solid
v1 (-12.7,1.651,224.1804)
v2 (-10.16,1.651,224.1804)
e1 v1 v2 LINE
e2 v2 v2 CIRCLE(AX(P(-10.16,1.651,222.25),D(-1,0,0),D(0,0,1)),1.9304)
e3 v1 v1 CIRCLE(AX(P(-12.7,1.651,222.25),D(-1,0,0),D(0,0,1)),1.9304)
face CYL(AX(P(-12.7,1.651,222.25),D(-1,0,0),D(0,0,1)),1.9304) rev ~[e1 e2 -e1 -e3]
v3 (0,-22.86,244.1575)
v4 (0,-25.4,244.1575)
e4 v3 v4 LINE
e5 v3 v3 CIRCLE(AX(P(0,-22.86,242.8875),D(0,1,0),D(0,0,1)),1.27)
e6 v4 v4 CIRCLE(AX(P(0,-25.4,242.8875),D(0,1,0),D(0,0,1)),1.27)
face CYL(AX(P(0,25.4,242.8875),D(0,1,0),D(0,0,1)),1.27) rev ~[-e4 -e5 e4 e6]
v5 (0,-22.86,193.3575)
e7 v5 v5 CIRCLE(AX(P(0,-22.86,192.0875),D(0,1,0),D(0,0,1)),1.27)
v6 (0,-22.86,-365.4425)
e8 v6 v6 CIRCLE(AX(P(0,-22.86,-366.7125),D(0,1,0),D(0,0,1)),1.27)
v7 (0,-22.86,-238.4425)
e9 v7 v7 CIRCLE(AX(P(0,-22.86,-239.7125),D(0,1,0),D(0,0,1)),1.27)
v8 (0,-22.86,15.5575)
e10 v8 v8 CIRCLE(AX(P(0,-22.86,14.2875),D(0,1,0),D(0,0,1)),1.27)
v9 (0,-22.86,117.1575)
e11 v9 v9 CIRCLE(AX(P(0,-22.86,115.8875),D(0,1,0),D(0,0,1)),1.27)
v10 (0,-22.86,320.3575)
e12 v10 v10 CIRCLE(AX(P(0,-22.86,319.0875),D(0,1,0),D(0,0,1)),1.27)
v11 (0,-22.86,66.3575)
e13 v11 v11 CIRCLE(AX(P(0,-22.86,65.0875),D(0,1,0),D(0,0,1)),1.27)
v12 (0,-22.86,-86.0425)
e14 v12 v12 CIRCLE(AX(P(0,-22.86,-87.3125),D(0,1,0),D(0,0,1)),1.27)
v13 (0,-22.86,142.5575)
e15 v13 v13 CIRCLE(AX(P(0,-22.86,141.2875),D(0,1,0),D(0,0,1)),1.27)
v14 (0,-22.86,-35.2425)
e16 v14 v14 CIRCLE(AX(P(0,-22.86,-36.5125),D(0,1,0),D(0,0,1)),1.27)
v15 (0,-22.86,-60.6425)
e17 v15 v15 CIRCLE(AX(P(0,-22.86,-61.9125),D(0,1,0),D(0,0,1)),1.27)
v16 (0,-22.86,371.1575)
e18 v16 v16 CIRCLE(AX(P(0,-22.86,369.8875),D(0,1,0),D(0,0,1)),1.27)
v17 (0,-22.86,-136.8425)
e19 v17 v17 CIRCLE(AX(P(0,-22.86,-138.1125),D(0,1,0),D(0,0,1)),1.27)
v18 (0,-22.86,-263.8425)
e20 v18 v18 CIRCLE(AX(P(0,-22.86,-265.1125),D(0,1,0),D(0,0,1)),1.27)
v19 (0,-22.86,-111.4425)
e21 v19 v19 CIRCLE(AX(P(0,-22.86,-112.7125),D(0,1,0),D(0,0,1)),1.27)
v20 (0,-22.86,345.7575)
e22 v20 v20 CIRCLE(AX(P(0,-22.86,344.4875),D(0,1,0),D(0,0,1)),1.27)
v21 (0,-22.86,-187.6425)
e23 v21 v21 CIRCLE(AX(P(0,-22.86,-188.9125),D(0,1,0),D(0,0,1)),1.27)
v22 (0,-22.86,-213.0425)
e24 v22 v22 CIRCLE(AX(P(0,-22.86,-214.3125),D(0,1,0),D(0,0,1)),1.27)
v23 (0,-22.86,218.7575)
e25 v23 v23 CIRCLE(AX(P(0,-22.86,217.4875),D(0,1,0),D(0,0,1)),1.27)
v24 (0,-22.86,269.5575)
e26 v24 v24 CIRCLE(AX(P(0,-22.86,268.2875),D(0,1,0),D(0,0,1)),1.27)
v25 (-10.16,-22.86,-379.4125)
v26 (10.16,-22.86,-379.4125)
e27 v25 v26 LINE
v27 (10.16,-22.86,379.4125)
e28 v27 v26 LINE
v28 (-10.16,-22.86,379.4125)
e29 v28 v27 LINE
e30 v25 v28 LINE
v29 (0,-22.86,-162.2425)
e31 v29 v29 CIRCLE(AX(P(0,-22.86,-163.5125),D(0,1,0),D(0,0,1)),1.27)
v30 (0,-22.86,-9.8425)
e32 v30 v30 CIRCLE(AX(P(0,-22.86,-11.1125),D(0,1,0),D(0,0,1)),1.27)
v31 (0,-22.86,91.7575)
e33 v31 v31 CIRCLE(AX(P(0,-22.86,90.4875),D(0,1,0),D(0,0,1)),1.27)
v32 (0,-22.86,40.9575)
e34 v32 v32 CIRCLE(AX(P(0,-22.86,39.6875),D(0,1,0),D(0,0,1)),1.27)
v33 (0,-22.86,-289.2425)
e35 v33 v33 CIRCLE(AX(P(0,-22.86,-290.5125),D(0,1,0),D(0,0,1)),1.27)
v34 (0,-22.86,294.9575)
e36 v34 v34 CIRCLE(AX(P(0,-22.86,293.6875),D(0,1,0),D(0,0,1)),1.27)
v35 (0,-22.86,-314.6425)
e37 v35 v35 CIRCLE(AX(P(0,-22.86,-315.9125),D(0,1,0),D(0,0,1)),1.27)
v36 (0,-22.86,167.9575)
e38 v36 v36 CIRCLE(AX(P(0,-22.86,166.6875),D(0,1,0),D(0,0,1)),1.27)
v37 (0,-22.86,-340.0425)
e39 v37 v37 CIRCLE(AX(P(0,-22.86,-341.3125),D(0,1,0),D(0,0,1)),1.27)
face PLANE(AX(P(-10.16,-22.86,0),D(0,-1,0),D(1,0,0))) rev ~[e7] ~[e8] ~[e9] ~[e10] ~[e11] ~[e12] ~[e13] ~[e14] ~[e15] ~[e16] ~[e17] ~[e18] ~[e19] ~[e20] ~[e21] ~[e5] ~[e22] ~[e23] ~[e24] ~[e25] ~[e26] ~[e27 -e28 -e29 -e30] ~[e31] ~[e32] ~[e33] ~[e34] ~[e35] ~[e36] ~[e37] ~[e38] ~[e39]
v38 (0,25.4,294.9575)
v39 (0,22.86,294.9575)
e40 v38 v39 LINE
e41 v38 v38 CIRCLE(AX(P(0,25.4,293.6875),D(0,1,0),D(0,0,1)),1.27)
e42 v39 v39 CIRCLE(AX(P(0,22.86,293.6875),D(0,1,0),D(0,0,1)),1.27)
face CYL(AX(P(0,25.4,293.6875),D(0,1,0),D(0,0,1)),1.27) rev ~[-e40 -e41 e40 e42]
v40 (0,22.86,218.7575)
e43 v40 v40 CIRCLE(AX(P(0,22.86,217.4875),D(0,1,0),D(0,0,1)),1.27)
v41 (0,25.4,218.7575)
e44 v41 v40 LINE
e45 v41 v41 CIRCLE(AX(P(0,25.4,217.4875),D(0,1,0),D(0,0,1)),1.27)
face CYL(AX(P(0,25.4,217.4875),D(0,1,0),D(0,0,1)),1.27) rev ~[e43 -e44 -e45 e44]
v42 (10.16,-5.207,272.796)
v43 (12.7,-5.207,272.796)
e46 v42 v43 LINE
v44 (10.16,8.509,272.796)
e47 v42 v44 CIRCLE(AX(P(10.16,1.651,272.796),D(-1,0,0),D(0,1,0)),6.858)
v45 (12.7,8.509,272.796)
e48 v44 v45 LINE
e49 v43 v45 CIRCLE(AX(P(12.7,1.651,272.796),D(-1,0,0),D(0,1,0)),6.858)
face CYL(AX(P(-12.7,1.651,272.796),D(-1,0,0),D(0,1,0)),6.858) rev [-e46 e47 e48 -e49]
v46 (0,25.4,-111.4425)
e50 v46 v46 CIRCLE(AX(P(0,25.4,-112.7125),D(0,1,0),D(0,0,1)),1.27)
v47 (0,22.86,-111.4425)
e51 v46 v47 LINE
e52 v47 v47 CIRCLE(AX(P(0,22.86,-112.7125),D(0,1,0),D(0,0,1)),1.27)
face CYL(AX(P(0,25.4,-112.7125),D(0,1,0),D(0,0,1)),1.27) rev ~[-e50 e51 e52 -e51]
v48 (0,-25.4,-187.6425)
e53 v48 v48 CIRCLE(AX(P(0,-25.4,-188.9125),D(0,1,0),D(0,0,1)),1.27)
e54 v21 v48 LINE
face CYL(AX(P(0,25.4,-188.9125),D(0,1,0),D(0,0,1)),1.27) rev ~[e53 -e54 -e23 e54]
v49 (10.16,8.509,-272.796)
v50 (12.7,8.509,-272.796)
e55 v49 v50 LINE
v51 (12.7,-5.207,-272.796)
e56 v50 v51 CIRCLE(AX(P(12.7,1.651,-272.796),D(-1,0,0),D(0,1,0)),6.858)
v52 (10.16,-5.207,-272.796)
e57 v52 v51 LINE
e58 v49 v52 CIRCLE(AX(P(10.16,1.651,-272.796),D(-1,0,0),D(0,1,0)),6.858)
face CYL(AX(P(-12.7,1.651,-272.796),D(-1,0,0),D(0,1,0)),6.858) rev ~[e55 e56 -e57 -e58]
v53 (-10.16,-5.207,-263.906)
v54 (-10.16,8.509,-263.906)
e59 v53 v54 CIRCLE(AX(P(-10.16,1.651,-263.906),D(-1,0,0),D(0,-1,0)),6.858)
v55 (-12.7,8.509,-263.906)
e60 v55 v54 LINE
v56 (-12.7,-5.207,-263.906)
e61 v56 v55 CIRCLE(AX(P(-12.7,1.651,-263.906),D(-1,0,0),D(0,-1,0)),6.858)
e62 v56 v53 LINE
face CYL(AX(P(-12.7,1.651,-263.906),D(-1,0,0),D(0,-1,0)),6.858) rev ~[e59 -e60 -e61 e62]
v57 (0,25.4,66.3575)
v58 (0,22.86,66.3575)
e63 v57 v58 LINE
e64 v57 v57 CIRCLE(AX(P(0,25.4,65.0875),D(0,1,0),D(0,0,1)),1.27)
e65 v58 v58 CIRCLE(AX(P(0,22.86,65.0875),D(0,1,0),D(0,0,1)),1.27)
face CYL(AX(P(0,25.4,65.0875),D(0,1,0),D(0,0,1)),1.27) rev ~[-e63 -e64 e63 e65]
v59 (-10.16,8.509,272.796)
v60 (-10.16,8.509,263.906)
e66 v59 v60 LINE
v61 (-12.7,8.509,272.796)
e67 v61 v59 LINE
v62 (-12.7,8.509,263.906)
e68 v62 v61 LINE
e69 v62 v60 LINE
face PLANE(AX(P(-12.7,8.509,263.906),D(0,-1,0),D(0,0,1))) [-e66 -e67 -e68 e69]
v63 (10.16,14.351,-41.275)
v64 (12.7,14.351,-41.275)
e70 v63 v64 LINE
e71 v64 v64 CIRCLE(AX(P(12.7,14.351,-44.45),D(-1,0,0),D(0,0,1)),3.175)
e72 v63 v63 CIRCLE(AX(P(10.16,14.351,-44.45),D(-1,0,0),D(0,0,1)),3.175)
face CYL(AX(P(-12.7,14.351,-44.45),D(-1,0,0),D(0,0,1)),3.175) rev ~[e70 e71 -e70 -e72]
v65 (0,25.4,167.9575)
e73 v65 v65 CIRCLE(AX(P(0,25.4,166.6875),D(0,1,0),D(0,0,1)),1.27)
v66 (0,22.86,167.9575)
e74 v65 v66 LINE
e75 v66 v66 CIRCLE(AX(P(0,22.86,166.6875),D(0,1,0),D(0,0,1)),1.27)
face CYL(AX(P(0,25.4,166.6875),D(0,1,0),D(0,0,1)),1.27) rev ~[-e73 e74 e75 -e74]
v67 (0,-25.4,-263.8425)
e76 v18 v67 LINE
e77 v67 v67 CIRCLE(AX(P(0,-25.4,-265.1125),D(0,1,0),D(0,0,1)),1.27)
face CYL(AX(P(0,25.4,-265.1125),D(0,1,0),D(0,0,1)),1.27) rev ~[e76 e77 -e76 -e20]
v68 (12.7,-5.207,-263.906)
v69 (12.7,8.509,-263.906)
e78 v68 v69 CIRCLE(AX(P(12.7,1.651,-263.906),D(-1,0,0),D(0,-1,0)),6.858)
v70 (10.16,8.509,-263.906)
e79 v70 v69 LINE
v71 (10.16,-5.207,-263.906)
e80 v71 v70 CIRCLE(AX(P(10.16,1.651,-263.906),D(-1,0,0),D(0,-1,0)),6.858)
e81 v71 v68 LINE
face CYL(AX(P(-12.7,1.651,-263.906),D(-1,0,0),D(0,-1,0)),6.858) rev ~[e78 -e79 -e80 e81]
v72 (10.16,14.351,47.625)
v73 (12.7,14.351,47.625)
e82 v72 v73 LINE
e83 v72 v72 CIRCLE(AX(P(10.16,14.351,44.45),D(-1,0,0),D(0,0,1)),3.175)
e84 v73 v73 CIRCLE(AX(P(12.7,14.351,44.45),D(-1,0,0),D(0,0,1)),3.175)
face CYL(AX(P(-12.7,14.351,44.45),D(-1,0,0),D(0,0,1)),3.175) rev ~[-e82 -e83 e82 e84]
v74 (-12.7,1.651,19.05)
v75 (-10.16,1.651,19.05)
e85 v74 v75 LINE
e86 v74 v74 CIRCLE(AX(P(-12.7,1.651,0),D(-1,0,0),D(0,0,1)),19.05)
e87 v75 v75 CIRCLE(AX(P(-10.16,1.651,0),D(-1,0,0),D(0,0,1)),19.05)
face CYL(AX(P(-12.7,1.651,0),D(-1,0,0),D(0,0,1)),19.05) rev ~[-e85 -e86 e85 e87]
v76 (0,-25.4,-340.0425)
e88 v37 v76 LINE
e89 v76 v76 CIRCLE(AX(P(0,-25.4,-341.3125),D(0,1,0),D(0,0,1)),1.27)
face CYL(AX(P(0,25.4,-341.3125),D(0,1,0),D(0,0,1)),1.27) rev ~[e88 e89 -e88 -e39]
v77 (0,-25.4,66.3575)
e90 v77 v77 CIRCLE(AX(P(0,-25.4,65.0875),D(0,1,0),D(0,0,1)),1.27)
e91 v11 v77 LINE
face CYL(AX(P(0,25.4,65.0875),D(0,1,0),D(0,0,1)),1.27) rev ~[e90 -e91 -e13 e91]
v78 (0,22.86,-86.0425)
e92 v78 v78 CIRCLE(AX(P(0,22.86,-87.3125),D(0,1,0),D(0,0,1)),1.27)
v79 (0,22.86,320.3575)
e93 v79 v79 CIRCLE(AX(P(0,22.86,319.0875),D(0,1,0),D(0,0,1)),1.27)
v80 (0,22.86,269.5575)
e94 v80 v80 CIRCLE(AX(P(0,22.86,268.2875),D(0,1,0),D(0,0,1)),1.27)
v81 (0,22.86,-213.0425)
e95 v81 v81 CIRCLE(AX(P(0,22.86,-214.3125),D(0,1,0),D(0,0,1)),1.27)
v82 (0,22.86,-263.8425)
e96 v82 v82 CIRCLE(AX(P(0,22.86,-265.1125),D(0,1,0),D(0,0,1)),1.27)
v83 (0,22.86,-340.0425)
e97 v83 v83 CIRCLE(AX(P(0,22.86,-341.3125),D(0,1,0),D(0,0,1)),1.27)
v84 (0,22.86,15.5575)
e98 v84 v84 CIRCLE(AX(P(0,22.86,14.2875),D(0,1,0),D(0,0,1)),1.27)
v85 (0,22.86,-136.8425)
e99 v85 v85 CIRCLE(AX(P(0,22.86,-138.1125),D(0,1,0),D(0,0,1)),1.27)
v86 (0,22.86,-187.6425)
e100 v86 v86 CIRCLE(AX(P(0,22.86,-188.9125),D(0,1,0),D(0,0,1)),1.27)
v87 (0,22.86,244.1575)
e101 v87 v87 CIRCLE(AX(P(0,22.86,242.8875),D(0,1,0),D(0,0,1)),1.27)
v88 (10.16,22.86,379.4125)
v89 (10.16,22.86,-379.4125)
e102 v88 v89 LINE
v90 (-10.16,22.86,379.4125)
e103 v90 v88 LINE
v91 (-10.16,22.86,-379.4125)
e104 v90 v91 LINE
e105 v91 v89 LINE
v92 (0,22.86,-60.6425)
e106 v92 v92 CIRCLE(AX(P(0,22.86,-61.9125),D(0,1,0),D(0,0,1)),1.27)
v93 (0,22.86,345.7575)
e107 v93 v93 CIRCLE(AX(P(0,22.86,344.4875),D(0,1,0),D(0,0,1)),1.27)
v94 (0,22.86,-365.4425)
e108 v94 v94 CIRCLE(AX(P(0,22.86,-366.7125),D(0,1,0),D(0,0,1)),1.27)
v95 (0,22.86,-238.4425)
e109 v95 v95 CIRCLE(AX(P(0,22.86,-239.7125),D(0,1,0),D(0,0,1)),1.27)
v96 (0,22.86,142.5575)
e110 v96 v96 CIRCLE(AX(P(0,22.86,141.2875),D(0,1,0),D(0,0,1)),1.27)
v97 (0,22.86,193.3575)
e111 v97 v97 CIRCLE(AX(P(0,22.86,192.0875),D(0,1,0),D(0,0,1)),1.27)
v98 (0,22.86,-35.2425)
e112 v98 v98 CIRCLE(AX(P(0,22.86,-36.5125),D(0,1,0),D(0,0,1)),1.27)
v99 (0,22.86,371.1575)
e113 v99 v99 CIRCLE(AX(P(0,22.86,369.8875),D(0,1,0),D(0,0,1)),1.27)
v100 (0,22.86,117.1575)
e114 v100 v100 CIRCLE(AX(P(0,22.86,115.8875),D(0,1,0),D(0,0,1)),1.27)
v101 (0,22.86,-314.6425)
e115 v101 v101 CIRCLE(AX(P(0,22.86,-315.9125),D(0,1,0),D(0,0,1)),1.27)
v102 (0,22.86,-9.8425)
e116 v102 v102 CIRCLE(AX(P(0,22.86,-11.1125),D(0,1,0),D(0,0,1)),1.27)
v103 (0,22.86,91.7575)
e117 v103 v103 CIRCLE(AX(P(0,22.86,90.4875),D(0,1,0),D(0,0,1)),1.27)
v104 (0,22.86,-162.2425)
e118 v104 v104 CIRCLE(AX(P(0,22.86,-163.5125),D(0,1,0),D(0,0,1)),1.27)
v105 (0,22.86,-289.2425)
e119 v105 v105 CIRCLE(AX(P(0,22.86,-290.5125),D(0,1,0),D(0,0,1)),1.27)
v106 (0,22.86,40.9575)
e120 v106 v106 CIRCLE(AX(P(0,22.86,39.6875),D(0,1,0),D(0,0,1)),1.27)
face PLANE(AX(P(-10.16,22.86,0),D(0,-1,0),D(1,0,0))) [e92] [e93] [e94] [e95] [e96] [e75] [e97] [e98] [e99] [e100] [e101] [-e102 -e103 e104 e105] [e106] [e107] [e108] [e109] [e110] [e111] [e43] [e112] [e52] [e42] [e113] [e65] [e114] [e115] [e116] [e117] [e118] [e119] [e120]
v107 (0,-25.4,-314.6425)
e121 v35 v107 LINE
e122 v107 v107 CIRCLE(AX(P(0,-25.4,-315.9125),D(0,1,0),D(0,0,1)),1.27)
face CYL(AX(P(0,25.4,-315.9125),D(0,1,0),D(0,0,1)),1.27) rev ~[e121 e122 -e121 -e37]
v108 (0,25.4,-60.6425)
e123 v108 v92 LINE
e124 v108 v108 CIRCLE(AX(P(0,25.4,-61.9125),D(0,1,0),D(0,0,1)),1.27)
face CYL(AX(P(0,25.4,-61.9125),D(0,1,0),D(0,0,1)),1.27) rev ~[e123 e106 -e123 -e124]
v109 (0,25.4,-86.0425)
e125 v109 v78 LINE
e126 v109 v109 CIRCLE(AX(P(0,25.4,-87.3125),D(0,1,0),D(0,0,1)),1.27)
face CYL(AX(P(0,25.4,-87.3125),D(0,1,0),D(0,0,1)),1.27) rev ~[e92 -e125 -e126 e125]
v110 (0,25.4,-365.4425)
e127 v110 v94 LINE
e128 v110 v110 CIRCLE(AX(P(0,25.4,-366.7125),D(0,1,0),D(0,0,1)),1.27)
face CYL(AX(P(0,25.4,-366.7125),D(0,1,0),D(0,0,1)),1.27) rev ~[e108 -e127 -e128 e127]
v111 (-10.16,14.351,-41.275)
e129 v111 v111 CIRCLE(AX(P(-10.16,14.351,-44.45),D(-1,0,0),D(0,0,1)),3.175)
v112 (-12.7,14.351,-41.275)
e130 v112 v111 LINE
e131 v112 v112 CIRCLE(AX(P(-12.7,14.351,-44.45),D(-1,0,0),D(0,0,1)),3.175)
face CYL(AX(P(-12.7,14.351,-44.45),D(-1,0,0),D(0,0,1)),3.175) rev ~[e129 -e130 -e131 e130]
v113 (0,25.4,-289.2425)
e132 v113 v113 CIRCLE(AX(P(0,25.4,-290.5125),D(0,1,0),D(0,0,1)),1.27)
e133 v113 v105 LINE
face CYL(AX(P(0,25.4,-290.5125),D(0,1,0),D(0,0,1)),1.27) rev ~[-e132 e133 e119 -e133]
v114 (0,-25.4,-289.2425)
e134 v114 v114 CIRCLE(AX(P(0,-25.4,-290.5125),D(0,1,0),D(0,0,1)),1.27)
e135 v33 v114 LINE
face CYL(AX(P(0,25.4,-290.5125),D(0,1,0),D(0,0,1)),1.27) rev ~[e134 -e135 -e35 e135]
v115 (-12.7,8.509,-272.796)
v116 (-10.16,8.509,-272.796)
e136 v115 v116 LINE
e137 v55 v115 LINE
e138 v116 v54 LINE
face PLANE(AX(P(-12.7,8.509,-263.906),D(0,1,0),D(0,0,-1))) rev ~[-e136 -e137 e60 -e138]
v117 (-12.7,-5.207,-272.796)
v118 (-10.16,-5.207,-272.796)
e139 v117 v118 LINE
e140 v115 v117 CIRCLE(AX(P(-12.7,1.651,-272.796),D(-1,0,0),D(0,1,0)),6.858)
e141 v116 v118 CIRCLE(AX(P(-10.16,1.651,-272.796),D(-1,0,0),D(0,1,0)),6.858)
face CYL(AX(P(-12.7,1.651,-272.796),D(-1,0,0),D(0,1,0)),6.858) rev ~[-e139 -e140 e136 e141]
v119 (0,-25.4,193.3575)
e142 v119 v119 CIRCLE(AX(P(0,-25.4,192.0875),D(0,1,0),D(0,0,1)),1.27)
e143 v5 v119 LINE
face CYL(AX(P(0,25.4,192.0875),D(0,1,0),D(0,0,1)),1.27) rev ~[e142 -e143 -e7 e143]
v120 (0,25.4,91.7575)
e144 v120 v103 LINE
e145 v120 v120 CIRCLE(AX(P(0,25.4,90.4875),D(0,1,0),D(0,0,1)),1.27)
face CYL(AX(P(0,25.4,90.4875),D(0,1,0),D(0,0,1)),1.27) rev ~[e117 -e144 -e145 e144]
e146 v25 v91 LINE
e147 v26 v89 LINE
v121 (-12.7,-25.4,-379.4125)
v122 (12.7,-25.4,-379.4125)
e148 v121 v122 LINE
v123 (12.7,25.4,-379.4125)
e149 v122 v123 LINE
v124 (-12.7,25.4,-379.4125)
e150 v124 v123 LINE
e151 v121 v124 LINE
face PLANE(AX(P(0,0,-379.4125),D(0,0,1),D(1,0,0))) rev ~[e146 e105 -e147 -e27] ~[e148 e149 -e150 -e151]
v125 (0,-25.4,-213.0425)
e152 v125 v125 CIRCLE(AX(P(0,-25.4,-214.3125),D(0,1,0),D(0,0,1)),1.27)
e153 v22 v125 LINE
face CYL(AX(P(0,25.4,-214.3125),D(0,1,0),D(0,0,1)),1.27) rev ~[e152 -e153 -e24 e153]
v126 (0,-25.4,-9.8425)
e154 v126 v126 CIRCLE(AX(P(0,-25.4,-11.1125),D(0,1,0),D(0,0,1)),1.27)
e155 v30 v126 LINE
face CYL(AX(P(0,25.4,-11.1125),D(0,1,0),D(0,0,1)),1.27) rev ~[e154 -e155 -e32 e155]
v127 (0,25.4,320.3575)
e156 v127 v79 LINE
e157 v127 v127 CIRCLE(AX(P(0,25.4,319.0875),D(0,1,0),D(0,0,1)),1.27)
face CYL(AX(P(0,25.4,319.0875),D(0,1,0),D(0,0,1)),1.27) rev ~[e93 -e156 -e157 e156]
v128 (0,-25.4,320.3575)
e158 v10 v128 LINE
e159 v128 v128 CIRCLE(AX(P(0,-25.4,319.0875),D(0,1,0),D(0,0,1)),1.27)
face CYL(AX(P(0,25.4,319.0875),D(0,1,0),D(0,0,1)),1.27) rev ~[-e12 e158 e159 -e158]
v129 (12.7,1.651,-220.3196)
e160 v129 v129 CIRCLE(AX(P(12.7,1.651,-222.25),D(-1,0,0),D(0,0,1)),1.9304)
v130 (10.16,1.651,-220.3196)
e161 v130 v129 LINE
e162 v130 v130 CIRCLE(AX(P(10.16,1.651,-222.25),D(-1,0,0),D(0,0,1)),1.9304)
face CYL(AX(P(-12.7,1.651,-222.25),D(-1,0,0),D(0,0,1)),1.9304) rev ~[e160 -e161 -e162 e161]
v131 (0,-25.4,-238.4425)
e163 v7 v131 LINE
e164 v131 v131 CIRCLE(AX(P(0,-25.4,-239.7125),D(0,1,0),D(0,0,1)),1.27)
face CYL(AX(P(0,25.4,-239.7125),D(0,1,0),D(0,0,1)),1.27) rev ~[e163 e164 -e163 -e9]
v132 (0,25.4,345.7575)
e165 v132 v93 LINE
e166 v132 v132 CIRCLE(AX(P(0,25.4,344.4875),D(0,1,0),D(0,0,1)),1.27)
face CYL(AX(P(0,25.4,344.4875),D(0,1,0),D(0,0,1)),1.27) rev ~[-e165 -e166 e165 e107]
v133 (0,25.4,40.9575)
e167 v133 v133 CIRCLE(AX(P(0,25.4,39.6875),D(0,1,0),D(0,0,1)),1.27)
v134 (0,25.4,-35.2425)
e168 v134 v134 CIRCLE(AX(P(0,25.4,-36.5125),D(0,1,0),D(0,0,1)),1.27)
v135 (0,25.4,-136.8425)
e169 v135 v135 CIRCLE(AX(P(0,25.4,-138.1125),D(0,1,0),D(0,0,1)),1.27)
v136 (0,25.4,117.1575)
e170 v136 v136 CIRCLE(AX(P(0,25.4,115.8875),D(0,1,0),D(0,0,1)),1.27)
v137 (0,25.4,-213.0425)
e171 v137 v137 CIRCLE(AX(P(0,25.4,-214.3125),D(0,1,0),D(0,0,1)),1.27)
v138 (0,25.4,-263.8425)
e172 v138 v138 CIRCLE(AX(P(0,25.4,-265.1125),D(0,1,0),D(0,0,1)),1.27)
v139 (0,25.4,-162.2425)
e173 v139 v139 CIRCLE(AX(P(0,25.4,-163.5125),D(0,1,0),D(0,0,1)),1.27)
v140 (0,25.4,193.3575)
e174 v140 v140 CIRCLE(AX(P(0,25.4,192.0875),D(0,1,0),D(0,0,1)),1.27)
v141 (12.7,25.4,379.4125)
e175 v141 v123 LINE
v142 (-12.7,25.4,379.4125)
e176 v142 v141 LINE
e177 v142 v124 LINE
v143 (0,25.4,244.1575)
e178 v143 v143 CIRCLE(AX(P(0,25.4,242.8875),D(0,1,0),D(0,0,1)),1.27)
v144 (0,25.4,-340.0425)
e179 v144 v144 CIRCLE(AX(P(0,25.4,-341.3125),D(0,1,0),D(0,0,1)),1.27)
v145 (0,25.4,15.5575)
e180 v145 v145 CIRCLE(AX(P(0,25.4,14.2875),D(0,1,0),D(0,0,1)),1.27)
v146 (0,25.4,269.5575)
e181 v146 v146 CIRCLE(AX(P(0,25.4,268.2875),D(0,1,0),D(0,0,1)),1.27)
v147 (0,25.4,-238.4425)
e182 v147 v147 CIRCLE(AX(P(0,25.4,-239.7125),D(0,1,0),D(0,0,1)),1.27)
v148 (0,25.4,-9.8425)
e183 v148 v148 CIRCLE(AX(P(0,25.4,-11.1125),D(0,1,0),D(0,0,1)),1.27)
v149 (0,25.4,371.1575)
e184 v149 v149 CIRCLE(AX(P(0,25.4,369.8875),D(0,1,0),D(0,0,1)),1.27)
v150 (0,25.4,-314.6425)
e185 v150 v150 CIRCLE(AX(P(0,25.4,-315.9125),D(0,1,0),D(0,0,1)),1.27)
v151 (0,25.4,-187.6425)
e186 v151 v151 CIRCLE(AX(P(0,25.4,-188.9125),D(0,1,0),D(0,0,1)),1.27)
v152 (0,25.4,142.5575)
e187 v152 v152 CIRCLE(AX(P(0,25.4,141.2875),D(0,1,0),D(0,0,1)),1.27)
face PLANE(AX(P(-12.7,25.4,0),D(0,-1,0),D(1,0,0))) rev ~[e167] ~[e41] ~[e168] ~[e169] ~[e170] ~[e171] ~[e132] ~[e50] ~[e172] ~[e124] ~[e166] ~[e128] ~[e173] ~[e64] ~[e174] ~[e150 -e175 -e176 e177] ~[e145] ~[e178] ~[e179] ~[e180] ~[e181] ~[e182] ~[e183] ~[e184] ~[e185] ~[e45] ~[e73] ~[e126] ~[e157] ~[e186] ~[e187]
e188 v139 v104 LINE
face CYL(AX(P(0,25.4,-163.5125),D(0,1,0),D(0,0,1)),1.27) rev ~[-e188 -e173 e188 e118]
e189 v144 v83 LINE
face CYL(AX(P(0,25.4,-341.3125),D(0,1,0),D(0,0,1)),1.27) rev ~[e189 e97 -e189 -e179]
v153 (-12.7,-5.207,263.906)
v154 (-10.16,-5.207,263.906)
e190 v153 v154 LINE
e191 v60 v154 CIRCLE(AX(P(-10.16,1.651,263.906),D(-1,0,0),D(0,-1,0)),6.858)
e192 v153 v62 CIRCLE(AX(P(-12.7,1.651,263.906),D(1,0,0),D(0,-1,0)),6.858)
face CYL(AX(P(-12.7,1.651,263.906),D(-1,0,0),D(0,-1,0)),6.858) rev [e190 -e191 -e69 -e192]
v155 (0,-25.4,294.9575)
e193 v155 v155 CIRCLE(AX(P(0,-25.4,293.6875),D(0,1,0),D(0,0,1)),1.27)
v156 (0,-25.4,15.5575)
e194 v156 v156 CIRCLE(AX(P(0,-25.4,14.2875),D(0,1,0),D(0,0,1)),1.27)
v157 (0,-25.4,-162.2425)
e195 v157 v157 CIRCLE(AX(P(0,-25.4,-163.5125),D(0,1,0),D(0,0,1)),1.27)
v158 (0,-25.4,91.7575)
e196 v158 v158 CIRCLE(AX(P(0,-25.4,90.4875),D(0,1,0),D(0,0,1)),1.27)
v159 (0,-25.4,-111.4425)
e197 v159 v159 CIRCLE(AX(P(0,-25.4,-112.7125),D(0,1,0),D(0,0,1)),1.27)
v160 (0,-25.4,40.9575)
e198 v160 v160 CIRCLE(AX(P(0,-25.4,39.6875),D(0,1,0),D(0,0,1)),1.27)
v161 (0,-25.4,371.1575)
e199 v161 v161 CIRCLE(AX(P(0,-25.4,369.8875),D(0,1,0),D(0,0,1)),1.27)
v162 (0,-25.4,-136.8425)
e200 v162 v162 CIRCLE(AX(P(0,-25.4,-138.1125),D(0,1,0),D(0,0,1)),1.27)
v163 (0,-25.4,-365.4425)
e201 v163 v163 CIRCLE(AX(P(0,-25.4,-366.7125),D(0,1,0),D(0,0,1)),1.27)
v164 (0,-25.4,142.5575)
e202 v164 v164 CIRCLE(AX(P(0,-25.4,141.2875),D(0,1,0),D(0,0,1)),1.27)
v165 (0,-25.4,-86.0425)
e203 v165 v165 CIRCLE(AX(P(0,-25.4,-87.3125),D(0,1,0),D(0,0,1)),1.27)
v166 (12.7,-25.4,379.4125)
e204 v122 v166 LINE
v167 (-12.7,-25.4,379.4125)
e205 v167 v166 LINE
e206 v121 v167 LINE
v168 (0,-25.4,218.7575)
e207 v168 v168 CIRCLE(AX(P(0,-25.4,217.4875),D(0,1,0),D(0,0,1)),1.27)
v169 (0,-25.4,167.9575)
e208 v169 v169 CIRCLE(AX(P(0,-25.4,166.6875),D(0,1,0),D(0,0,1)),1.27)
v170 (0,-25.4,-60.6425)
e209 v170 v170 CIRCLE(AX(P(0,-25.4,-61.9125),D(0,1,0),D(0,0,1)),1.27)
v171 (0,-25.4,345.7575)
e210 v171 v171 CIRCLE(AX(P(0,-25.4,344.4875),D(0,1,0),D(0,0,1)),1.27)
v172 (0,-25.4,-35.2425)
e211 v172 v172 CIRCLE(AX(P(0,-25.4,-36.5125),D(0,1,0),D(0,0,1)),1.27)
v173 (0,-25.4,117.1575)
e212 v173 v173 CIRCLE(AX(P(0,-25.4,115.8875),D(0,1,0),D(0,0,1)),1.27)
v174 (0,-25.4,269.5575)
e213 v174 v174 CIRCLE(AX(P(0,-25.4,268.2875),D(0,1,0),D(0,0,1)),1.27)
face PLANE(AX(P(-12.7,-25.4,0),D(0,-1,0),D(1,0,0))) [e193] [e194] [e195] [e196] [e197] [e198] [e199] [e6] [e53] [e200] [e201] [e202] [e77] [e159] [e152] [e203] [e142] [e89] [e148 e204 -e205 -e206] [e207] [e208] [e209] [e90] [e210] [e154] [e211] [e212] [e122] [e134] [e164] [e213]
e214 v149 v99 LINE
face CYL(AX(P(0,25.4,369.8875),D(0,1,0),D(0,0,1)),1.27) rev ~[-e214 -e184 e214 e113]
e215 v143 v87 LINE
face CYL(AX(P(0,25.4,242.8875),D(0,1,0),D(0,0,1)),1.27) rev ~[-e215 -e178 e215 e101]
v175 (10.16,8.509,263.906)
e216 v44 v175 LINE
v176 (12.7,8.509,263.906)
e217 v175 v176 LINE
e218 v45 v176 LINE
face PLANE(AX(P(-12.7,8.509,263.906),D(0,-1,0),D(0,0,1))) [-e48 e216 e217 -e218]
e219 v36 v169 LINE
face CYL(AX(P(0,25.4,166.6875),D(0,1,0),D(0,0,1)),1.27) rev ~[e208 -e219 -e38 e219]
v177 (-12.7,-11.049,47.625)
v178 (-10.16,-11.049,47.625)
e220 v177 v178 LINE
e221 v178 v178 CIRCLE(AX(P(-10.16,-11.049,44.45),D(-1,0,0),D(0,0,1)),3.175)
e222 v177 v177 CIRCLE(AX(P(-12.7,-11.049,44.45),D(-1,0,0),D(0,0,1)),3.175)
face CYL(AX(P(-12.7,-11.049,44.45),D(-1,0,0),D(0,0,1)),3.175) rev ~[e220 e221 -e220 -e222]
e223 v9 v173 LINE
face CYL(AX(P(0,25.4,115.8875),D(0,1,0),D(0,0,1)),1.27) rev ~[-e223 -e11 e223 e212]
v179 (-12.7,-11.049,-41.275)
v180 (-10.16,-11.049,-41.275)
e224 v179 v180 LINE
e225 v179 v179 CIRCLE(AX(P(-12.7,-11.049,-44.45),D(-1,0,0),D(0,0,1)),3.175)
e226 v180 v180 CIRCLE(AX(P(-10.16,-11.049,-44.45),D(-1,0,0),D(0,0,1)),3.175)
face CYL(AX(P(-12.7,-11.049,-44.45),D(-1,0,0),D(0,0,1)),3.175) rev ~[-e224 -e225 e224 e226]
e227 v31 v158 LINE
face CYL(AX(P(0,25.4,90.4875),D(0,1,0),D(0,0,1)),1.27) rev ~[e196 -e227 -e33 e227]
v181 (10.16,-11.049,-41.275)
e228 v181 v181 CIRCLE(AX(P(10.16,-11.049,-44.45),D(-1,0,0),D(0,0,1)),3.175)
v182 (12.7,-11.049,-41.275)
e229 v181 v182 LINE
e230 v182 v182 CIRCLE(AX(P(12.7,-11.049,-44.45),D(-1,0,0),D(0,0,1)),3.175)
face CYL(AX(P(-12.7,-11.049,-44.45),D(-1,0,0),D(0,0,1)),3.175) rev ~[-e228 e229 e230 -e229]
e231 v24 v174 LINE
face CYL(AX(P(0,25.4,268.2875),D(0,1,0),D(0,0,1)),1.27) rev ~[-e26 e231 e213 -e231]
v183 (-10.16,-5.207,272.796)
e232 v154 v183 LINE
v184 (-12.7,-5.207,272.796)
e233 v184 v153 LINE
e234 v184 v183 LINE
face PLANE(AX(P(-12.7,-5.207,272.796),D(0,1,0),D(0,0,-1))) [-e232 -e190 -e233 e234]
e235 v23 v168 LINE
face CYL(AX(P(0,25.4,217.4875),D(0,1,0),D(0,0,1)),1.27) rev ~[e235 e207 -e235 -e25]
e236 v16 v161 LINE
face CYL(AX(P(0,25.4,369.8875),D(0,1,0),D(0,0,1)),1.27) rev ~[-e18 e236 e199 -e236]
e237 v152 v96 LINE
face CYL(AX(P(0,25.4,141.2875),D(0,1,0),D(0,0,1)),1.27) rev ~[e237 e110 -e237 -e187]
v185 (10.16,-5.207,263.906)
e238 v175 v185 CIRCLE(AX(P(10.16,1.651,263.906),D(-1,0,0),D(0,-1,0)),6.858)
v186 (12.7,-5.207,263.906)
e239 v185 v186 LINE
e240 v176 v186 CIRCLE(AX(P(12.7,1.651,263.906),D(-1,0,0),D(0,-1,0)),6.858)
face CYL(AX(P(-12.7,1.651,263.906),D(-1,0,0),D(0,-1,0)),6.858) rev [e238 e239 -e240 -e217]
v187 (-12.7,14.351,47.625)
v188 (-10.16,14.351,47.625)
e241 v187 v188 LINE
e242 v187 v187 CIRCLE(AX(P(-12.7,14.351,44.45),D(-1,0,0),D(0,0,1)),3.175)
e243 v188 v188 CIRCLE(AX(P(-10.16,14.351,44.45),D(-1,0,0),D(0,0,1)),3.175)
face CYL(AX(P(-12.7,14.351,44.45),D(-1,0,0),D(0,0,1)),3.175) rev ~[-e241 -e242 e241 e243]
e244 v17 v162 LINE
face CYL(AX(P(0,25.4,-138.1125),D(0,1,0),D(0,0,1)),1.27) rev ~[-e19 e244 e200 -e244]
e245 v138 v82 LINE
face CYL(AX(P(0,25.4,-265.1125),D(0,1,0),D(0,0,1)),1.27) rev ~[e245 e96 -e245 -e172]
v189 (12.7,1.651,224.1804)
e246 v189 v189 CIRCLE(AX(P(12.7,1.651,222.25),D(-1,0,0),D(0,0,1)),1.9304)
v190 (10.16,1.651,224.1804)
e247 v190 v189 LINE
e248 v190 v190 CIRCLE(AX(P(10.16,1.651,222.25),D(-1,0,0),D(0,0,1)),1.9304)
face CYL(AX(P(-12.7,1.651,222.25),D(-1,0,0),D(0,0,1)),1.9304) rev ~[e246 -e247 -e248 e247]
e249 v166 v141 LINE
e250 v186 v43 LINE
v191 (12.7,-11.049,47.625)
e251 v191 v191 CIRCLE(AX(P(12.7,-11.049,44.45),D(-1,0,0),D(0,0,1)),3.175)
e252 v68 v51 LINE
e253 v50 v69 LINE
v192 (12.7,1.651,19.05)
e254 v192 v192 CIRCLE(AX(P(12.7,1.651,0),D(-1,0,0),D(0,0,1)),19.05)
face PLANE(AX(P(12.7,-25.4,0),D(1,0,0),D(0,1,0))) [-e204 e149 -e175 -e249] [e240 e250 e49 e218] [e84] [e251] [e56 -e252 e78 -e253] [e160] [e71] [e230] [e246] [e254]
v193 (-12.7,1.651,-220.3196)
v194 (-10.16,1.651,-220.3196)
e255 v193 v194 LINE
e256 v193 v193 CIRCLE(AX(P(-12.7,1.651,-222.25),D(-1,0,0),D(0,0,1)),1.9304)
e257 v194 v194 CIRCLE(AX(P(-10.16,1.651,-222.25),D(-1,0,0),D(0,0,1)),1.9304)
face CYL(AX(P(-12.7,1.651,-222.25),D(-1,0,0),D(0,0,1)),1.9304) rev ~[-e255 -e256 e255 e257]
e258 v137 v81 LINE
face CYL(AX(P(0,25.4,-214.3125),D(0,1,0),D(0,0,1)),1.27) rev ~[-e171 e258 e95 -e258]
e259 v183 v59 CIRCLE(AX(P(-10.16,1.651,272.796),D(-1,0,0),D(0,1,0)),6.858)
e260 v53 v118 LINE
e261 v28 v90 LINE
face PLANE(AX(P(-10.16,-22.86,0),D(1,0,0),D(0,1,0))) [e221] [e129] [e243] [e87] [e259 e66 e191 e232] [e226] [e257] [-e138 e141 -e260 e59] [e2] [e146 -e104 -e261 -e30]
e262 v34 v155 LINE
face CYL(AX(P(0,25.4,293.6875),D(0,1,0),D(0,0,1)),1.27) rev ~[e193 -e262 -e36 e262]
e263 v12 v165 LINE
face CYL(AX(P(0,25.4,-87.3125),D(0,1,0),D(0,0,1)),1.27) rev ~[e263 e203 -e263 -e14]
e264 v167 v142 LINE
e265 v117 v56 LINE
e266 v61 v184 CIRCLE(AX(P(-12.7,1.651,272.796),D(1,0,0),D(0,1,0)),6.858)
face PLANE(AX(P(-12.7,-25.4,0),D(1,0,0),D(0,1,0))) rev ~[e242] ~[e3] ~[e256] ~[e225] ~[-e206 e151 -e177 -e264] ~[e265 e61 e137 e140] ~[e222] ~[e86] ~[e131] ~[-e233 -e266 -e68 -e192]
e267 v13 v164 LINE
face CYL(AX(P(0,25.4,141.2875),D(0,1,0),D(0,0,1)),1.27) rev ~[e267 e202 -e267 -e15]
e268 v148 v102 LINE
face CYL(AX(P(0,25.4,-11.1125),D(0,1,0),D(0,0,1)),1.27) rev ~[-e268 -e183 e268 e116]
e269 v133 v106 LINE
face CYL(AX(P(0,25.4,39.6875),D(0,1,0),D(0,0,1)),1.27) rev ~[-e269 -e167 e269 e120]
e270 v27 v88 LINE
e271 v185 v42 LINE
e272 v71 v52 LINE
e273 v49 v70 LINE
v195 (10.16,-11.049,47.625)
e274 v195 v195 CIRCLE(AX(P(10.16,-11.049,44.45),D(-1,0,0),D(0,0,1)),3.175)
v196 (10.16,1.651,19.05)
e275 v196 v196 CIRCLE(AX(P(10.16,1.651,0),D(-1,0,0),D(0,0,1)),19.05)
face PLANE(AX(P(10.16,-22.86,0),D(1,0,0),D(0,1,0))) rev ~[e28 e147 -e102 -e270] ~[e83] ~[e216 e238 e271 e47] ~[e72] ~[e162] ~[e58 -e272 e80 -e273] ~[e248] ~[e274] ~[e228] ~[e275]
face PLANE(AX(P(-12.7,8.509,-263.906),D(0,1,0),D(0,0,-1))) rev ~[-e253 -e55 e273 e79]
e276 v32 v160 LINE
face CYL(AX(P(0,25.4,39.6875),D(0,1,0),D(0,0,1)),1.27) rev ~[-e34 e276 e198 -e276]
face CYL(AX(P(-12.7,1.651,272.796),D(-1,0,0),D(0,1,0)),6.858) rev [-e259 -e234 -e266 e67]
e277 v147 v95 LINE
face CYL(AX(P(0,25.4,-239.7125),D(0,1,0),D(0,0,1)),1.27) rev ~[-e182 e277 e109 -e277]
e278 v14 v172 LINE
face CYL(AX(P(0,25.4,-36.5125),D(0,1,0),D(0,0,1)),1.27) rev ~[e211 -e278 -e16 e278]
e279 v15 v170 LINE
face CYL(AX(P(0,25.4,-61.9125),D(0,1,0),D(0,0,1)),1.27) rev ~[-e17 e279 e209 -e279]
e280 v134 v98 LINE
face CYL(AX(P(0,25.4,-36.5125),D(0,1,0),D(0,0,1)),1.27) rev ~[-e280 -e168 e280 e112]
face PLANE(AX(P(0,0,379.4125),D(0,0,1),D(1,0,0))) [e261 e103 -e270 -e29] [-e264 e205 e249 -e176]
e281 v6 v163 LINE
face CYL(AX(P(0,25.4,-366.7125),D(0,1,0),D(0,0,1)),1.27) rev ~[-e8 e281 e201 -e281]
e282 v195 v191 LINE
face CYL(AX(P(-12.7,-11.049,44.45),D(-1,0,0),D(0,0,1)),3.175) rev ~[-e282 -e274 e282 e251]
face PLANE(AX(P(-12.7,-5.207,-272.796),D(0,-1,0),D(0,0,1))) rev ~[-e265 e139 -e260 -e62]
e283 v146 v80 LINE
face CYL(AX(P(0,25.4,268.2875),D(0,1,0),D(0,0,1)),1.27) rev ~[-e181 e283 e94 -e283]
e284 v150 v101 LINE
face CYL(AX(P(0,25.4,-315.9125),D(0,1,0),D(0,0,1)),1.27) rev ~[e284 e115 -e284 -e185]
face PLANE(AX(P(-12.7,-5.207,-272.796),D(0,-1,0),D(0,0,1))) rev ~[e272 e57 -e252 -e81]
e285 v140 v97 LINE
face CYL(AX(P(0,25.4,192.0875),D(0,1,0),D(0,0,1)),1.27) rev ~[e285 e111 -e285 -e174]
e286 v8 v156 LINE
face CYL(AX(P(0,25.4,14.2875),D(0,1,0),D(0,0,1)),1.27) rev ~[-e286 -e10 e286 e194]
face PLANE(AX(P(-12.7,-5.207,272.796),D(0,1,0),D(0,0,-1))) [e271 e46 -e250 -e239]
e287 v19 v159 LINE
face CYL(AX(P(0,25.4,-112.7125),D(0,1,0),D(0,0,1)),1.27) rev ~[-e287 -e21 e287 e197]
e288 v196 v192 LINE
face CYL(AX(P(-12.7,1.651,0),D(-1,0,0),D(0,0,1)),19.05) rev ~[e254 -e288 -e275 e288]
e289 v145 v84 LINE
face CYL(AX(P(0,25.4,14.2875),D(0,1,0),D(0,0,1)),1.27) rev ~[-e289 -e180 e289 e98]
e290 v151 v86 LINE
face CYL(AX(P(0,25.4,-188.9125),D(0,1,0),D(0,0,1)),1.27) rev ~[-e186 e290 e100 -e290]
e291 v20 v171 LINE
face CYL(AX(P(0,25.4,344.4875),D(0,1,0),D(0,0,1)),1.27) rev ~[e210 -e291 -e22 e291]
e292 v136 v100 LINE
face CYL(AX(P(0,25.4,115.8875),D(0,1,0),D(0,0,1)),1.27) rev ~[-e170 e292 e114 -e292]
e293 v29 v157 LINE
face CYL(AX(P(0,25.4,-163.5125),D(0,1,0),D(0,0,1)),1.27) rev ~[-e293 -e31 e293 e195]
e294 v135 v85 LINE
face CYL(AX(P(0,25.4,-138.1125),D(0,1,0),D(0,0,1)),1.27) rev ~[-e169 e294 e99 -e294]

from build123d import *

# Parameters (mm, degrees)
SKETCH1_W           = 25.4
SKETCH1_H           = 50.8
SKETCH1_W_2         = 20.32
SKETCH1_H_2         = 45.72
EXTRUDE_THIN1_DEPTH = 379.4125
SKETCH2_R           = 1.27
CUT_EXTRUDE1_DEPTH  = 384.008844749
LPATTERN1_COUNT     = 30
LPATTERN1_PITCH     = 25.4
SKETCH4_R           = 19.05
SKETCH4_R_2         = 1.9304
CUT_EXTRUDE2_DEPTH  = 382.109124997
SKETCH5_R           = 3.175
CUT_EXTRUDE3_DEPTH  = 382.109124997


with BuildPart() as part:
    # Sketch1 → Extrude-Thin1 (new, symmetric)
    with BuildSketch(Plane.XY):
        Rectangle(SKETCH1_W, SKETCH1_H)
        Rectangle(SKETCH1_W_2, SKETCH1_H_2, mode=Mode.SUBTRACT)
    extrude(amount=EXTRUDE_THIN1_DEPTH, both=True)

    # Sketch2 → Cut-Extrude1 (cut, through all)
    with BuildSketch(Plane(origin=(0, 25.4, 0), x_dir=(1, 0, 0), z_dir=(0, 1, 0))):
        with Locations(Location((0, 366.7125, 0), (0, 0, 270))):
            Circle(SKETCH2_R)
    cut_extrude1 = extrude(amount=-CUT_EXTRUDE1_DEPTH, mode=Mode.SUBTRACT)

    # LPattern1: Cut-Extrude1 ×30
    with Locations(*[(0, 0, i * LPATTERN1_PITCH) for i in range(1, LPATTERN1_COUNT)]):
        add(cut_extrude1, mode=Mode.SUBTRACT)

    # Sketch4 → Cut-Extrude2 (cut, through all)
    with BuildSketch(Plane.ZY.offset(12.7)):
        with Locations((0, 1.651)):
            Circle(SKETCH4_R)
        with Locations((-222.25, 1.651)):
            Circle(SKETCH4_R_2)
        with Locations((222.25, 1.651)):
            Circle(SKETCH4_R_2)
        with BuildLine():
            Line((263.906, 8.509), (272.796, 8.509))
            ThreePointArc((272.796, 8.509), (279.654, 1.651), (272.796, -5.207))
            Line((272.796, -5.207), (263.906, -5.207))
            ThreePointArc((263.906, -5.207), (257.048, 1.651), (263.906, 8.509))
        make_face()
        with BuildLine():
            Line((-263.906, 8.509), (-272.796, 8.509))
            ThreePointArc((-272.796, 8.509), (-279.654, 1.651), (-272.796, -5.207))
            Line((-272.796, -5.207), (-263.906, -5.207))
            ThreePointArc((-263.906, -5.207), (-257.048, 1.651), (-263.906, 8.509))
        make_face()
    extrude(amount=-CUT_EXTRUDE2_DEPTH, mode=Mode.SUBTRACT)

    # Sketch5 → Cut-Extrude3 (cut, through all)
    with BuildSketch(Plane.ZY.offset(12.7)):
        with Locations((-44.45, 14.351)):
            Circle(SKETCH5_R)
        with Locations((-44.45, -11.049)):
            Circle(SKETCH5_R)
        with Locations((44.45, 14.351)):
            Circle(SKETCH5_R)
        with Locations((44.45, -11.049)):
            Circle(SKETCH5_R)
    extrude(amount=-CUT_EXTRUDE3_DEPTH, mode=Mode.SUBTRACT)


solid = part.part
